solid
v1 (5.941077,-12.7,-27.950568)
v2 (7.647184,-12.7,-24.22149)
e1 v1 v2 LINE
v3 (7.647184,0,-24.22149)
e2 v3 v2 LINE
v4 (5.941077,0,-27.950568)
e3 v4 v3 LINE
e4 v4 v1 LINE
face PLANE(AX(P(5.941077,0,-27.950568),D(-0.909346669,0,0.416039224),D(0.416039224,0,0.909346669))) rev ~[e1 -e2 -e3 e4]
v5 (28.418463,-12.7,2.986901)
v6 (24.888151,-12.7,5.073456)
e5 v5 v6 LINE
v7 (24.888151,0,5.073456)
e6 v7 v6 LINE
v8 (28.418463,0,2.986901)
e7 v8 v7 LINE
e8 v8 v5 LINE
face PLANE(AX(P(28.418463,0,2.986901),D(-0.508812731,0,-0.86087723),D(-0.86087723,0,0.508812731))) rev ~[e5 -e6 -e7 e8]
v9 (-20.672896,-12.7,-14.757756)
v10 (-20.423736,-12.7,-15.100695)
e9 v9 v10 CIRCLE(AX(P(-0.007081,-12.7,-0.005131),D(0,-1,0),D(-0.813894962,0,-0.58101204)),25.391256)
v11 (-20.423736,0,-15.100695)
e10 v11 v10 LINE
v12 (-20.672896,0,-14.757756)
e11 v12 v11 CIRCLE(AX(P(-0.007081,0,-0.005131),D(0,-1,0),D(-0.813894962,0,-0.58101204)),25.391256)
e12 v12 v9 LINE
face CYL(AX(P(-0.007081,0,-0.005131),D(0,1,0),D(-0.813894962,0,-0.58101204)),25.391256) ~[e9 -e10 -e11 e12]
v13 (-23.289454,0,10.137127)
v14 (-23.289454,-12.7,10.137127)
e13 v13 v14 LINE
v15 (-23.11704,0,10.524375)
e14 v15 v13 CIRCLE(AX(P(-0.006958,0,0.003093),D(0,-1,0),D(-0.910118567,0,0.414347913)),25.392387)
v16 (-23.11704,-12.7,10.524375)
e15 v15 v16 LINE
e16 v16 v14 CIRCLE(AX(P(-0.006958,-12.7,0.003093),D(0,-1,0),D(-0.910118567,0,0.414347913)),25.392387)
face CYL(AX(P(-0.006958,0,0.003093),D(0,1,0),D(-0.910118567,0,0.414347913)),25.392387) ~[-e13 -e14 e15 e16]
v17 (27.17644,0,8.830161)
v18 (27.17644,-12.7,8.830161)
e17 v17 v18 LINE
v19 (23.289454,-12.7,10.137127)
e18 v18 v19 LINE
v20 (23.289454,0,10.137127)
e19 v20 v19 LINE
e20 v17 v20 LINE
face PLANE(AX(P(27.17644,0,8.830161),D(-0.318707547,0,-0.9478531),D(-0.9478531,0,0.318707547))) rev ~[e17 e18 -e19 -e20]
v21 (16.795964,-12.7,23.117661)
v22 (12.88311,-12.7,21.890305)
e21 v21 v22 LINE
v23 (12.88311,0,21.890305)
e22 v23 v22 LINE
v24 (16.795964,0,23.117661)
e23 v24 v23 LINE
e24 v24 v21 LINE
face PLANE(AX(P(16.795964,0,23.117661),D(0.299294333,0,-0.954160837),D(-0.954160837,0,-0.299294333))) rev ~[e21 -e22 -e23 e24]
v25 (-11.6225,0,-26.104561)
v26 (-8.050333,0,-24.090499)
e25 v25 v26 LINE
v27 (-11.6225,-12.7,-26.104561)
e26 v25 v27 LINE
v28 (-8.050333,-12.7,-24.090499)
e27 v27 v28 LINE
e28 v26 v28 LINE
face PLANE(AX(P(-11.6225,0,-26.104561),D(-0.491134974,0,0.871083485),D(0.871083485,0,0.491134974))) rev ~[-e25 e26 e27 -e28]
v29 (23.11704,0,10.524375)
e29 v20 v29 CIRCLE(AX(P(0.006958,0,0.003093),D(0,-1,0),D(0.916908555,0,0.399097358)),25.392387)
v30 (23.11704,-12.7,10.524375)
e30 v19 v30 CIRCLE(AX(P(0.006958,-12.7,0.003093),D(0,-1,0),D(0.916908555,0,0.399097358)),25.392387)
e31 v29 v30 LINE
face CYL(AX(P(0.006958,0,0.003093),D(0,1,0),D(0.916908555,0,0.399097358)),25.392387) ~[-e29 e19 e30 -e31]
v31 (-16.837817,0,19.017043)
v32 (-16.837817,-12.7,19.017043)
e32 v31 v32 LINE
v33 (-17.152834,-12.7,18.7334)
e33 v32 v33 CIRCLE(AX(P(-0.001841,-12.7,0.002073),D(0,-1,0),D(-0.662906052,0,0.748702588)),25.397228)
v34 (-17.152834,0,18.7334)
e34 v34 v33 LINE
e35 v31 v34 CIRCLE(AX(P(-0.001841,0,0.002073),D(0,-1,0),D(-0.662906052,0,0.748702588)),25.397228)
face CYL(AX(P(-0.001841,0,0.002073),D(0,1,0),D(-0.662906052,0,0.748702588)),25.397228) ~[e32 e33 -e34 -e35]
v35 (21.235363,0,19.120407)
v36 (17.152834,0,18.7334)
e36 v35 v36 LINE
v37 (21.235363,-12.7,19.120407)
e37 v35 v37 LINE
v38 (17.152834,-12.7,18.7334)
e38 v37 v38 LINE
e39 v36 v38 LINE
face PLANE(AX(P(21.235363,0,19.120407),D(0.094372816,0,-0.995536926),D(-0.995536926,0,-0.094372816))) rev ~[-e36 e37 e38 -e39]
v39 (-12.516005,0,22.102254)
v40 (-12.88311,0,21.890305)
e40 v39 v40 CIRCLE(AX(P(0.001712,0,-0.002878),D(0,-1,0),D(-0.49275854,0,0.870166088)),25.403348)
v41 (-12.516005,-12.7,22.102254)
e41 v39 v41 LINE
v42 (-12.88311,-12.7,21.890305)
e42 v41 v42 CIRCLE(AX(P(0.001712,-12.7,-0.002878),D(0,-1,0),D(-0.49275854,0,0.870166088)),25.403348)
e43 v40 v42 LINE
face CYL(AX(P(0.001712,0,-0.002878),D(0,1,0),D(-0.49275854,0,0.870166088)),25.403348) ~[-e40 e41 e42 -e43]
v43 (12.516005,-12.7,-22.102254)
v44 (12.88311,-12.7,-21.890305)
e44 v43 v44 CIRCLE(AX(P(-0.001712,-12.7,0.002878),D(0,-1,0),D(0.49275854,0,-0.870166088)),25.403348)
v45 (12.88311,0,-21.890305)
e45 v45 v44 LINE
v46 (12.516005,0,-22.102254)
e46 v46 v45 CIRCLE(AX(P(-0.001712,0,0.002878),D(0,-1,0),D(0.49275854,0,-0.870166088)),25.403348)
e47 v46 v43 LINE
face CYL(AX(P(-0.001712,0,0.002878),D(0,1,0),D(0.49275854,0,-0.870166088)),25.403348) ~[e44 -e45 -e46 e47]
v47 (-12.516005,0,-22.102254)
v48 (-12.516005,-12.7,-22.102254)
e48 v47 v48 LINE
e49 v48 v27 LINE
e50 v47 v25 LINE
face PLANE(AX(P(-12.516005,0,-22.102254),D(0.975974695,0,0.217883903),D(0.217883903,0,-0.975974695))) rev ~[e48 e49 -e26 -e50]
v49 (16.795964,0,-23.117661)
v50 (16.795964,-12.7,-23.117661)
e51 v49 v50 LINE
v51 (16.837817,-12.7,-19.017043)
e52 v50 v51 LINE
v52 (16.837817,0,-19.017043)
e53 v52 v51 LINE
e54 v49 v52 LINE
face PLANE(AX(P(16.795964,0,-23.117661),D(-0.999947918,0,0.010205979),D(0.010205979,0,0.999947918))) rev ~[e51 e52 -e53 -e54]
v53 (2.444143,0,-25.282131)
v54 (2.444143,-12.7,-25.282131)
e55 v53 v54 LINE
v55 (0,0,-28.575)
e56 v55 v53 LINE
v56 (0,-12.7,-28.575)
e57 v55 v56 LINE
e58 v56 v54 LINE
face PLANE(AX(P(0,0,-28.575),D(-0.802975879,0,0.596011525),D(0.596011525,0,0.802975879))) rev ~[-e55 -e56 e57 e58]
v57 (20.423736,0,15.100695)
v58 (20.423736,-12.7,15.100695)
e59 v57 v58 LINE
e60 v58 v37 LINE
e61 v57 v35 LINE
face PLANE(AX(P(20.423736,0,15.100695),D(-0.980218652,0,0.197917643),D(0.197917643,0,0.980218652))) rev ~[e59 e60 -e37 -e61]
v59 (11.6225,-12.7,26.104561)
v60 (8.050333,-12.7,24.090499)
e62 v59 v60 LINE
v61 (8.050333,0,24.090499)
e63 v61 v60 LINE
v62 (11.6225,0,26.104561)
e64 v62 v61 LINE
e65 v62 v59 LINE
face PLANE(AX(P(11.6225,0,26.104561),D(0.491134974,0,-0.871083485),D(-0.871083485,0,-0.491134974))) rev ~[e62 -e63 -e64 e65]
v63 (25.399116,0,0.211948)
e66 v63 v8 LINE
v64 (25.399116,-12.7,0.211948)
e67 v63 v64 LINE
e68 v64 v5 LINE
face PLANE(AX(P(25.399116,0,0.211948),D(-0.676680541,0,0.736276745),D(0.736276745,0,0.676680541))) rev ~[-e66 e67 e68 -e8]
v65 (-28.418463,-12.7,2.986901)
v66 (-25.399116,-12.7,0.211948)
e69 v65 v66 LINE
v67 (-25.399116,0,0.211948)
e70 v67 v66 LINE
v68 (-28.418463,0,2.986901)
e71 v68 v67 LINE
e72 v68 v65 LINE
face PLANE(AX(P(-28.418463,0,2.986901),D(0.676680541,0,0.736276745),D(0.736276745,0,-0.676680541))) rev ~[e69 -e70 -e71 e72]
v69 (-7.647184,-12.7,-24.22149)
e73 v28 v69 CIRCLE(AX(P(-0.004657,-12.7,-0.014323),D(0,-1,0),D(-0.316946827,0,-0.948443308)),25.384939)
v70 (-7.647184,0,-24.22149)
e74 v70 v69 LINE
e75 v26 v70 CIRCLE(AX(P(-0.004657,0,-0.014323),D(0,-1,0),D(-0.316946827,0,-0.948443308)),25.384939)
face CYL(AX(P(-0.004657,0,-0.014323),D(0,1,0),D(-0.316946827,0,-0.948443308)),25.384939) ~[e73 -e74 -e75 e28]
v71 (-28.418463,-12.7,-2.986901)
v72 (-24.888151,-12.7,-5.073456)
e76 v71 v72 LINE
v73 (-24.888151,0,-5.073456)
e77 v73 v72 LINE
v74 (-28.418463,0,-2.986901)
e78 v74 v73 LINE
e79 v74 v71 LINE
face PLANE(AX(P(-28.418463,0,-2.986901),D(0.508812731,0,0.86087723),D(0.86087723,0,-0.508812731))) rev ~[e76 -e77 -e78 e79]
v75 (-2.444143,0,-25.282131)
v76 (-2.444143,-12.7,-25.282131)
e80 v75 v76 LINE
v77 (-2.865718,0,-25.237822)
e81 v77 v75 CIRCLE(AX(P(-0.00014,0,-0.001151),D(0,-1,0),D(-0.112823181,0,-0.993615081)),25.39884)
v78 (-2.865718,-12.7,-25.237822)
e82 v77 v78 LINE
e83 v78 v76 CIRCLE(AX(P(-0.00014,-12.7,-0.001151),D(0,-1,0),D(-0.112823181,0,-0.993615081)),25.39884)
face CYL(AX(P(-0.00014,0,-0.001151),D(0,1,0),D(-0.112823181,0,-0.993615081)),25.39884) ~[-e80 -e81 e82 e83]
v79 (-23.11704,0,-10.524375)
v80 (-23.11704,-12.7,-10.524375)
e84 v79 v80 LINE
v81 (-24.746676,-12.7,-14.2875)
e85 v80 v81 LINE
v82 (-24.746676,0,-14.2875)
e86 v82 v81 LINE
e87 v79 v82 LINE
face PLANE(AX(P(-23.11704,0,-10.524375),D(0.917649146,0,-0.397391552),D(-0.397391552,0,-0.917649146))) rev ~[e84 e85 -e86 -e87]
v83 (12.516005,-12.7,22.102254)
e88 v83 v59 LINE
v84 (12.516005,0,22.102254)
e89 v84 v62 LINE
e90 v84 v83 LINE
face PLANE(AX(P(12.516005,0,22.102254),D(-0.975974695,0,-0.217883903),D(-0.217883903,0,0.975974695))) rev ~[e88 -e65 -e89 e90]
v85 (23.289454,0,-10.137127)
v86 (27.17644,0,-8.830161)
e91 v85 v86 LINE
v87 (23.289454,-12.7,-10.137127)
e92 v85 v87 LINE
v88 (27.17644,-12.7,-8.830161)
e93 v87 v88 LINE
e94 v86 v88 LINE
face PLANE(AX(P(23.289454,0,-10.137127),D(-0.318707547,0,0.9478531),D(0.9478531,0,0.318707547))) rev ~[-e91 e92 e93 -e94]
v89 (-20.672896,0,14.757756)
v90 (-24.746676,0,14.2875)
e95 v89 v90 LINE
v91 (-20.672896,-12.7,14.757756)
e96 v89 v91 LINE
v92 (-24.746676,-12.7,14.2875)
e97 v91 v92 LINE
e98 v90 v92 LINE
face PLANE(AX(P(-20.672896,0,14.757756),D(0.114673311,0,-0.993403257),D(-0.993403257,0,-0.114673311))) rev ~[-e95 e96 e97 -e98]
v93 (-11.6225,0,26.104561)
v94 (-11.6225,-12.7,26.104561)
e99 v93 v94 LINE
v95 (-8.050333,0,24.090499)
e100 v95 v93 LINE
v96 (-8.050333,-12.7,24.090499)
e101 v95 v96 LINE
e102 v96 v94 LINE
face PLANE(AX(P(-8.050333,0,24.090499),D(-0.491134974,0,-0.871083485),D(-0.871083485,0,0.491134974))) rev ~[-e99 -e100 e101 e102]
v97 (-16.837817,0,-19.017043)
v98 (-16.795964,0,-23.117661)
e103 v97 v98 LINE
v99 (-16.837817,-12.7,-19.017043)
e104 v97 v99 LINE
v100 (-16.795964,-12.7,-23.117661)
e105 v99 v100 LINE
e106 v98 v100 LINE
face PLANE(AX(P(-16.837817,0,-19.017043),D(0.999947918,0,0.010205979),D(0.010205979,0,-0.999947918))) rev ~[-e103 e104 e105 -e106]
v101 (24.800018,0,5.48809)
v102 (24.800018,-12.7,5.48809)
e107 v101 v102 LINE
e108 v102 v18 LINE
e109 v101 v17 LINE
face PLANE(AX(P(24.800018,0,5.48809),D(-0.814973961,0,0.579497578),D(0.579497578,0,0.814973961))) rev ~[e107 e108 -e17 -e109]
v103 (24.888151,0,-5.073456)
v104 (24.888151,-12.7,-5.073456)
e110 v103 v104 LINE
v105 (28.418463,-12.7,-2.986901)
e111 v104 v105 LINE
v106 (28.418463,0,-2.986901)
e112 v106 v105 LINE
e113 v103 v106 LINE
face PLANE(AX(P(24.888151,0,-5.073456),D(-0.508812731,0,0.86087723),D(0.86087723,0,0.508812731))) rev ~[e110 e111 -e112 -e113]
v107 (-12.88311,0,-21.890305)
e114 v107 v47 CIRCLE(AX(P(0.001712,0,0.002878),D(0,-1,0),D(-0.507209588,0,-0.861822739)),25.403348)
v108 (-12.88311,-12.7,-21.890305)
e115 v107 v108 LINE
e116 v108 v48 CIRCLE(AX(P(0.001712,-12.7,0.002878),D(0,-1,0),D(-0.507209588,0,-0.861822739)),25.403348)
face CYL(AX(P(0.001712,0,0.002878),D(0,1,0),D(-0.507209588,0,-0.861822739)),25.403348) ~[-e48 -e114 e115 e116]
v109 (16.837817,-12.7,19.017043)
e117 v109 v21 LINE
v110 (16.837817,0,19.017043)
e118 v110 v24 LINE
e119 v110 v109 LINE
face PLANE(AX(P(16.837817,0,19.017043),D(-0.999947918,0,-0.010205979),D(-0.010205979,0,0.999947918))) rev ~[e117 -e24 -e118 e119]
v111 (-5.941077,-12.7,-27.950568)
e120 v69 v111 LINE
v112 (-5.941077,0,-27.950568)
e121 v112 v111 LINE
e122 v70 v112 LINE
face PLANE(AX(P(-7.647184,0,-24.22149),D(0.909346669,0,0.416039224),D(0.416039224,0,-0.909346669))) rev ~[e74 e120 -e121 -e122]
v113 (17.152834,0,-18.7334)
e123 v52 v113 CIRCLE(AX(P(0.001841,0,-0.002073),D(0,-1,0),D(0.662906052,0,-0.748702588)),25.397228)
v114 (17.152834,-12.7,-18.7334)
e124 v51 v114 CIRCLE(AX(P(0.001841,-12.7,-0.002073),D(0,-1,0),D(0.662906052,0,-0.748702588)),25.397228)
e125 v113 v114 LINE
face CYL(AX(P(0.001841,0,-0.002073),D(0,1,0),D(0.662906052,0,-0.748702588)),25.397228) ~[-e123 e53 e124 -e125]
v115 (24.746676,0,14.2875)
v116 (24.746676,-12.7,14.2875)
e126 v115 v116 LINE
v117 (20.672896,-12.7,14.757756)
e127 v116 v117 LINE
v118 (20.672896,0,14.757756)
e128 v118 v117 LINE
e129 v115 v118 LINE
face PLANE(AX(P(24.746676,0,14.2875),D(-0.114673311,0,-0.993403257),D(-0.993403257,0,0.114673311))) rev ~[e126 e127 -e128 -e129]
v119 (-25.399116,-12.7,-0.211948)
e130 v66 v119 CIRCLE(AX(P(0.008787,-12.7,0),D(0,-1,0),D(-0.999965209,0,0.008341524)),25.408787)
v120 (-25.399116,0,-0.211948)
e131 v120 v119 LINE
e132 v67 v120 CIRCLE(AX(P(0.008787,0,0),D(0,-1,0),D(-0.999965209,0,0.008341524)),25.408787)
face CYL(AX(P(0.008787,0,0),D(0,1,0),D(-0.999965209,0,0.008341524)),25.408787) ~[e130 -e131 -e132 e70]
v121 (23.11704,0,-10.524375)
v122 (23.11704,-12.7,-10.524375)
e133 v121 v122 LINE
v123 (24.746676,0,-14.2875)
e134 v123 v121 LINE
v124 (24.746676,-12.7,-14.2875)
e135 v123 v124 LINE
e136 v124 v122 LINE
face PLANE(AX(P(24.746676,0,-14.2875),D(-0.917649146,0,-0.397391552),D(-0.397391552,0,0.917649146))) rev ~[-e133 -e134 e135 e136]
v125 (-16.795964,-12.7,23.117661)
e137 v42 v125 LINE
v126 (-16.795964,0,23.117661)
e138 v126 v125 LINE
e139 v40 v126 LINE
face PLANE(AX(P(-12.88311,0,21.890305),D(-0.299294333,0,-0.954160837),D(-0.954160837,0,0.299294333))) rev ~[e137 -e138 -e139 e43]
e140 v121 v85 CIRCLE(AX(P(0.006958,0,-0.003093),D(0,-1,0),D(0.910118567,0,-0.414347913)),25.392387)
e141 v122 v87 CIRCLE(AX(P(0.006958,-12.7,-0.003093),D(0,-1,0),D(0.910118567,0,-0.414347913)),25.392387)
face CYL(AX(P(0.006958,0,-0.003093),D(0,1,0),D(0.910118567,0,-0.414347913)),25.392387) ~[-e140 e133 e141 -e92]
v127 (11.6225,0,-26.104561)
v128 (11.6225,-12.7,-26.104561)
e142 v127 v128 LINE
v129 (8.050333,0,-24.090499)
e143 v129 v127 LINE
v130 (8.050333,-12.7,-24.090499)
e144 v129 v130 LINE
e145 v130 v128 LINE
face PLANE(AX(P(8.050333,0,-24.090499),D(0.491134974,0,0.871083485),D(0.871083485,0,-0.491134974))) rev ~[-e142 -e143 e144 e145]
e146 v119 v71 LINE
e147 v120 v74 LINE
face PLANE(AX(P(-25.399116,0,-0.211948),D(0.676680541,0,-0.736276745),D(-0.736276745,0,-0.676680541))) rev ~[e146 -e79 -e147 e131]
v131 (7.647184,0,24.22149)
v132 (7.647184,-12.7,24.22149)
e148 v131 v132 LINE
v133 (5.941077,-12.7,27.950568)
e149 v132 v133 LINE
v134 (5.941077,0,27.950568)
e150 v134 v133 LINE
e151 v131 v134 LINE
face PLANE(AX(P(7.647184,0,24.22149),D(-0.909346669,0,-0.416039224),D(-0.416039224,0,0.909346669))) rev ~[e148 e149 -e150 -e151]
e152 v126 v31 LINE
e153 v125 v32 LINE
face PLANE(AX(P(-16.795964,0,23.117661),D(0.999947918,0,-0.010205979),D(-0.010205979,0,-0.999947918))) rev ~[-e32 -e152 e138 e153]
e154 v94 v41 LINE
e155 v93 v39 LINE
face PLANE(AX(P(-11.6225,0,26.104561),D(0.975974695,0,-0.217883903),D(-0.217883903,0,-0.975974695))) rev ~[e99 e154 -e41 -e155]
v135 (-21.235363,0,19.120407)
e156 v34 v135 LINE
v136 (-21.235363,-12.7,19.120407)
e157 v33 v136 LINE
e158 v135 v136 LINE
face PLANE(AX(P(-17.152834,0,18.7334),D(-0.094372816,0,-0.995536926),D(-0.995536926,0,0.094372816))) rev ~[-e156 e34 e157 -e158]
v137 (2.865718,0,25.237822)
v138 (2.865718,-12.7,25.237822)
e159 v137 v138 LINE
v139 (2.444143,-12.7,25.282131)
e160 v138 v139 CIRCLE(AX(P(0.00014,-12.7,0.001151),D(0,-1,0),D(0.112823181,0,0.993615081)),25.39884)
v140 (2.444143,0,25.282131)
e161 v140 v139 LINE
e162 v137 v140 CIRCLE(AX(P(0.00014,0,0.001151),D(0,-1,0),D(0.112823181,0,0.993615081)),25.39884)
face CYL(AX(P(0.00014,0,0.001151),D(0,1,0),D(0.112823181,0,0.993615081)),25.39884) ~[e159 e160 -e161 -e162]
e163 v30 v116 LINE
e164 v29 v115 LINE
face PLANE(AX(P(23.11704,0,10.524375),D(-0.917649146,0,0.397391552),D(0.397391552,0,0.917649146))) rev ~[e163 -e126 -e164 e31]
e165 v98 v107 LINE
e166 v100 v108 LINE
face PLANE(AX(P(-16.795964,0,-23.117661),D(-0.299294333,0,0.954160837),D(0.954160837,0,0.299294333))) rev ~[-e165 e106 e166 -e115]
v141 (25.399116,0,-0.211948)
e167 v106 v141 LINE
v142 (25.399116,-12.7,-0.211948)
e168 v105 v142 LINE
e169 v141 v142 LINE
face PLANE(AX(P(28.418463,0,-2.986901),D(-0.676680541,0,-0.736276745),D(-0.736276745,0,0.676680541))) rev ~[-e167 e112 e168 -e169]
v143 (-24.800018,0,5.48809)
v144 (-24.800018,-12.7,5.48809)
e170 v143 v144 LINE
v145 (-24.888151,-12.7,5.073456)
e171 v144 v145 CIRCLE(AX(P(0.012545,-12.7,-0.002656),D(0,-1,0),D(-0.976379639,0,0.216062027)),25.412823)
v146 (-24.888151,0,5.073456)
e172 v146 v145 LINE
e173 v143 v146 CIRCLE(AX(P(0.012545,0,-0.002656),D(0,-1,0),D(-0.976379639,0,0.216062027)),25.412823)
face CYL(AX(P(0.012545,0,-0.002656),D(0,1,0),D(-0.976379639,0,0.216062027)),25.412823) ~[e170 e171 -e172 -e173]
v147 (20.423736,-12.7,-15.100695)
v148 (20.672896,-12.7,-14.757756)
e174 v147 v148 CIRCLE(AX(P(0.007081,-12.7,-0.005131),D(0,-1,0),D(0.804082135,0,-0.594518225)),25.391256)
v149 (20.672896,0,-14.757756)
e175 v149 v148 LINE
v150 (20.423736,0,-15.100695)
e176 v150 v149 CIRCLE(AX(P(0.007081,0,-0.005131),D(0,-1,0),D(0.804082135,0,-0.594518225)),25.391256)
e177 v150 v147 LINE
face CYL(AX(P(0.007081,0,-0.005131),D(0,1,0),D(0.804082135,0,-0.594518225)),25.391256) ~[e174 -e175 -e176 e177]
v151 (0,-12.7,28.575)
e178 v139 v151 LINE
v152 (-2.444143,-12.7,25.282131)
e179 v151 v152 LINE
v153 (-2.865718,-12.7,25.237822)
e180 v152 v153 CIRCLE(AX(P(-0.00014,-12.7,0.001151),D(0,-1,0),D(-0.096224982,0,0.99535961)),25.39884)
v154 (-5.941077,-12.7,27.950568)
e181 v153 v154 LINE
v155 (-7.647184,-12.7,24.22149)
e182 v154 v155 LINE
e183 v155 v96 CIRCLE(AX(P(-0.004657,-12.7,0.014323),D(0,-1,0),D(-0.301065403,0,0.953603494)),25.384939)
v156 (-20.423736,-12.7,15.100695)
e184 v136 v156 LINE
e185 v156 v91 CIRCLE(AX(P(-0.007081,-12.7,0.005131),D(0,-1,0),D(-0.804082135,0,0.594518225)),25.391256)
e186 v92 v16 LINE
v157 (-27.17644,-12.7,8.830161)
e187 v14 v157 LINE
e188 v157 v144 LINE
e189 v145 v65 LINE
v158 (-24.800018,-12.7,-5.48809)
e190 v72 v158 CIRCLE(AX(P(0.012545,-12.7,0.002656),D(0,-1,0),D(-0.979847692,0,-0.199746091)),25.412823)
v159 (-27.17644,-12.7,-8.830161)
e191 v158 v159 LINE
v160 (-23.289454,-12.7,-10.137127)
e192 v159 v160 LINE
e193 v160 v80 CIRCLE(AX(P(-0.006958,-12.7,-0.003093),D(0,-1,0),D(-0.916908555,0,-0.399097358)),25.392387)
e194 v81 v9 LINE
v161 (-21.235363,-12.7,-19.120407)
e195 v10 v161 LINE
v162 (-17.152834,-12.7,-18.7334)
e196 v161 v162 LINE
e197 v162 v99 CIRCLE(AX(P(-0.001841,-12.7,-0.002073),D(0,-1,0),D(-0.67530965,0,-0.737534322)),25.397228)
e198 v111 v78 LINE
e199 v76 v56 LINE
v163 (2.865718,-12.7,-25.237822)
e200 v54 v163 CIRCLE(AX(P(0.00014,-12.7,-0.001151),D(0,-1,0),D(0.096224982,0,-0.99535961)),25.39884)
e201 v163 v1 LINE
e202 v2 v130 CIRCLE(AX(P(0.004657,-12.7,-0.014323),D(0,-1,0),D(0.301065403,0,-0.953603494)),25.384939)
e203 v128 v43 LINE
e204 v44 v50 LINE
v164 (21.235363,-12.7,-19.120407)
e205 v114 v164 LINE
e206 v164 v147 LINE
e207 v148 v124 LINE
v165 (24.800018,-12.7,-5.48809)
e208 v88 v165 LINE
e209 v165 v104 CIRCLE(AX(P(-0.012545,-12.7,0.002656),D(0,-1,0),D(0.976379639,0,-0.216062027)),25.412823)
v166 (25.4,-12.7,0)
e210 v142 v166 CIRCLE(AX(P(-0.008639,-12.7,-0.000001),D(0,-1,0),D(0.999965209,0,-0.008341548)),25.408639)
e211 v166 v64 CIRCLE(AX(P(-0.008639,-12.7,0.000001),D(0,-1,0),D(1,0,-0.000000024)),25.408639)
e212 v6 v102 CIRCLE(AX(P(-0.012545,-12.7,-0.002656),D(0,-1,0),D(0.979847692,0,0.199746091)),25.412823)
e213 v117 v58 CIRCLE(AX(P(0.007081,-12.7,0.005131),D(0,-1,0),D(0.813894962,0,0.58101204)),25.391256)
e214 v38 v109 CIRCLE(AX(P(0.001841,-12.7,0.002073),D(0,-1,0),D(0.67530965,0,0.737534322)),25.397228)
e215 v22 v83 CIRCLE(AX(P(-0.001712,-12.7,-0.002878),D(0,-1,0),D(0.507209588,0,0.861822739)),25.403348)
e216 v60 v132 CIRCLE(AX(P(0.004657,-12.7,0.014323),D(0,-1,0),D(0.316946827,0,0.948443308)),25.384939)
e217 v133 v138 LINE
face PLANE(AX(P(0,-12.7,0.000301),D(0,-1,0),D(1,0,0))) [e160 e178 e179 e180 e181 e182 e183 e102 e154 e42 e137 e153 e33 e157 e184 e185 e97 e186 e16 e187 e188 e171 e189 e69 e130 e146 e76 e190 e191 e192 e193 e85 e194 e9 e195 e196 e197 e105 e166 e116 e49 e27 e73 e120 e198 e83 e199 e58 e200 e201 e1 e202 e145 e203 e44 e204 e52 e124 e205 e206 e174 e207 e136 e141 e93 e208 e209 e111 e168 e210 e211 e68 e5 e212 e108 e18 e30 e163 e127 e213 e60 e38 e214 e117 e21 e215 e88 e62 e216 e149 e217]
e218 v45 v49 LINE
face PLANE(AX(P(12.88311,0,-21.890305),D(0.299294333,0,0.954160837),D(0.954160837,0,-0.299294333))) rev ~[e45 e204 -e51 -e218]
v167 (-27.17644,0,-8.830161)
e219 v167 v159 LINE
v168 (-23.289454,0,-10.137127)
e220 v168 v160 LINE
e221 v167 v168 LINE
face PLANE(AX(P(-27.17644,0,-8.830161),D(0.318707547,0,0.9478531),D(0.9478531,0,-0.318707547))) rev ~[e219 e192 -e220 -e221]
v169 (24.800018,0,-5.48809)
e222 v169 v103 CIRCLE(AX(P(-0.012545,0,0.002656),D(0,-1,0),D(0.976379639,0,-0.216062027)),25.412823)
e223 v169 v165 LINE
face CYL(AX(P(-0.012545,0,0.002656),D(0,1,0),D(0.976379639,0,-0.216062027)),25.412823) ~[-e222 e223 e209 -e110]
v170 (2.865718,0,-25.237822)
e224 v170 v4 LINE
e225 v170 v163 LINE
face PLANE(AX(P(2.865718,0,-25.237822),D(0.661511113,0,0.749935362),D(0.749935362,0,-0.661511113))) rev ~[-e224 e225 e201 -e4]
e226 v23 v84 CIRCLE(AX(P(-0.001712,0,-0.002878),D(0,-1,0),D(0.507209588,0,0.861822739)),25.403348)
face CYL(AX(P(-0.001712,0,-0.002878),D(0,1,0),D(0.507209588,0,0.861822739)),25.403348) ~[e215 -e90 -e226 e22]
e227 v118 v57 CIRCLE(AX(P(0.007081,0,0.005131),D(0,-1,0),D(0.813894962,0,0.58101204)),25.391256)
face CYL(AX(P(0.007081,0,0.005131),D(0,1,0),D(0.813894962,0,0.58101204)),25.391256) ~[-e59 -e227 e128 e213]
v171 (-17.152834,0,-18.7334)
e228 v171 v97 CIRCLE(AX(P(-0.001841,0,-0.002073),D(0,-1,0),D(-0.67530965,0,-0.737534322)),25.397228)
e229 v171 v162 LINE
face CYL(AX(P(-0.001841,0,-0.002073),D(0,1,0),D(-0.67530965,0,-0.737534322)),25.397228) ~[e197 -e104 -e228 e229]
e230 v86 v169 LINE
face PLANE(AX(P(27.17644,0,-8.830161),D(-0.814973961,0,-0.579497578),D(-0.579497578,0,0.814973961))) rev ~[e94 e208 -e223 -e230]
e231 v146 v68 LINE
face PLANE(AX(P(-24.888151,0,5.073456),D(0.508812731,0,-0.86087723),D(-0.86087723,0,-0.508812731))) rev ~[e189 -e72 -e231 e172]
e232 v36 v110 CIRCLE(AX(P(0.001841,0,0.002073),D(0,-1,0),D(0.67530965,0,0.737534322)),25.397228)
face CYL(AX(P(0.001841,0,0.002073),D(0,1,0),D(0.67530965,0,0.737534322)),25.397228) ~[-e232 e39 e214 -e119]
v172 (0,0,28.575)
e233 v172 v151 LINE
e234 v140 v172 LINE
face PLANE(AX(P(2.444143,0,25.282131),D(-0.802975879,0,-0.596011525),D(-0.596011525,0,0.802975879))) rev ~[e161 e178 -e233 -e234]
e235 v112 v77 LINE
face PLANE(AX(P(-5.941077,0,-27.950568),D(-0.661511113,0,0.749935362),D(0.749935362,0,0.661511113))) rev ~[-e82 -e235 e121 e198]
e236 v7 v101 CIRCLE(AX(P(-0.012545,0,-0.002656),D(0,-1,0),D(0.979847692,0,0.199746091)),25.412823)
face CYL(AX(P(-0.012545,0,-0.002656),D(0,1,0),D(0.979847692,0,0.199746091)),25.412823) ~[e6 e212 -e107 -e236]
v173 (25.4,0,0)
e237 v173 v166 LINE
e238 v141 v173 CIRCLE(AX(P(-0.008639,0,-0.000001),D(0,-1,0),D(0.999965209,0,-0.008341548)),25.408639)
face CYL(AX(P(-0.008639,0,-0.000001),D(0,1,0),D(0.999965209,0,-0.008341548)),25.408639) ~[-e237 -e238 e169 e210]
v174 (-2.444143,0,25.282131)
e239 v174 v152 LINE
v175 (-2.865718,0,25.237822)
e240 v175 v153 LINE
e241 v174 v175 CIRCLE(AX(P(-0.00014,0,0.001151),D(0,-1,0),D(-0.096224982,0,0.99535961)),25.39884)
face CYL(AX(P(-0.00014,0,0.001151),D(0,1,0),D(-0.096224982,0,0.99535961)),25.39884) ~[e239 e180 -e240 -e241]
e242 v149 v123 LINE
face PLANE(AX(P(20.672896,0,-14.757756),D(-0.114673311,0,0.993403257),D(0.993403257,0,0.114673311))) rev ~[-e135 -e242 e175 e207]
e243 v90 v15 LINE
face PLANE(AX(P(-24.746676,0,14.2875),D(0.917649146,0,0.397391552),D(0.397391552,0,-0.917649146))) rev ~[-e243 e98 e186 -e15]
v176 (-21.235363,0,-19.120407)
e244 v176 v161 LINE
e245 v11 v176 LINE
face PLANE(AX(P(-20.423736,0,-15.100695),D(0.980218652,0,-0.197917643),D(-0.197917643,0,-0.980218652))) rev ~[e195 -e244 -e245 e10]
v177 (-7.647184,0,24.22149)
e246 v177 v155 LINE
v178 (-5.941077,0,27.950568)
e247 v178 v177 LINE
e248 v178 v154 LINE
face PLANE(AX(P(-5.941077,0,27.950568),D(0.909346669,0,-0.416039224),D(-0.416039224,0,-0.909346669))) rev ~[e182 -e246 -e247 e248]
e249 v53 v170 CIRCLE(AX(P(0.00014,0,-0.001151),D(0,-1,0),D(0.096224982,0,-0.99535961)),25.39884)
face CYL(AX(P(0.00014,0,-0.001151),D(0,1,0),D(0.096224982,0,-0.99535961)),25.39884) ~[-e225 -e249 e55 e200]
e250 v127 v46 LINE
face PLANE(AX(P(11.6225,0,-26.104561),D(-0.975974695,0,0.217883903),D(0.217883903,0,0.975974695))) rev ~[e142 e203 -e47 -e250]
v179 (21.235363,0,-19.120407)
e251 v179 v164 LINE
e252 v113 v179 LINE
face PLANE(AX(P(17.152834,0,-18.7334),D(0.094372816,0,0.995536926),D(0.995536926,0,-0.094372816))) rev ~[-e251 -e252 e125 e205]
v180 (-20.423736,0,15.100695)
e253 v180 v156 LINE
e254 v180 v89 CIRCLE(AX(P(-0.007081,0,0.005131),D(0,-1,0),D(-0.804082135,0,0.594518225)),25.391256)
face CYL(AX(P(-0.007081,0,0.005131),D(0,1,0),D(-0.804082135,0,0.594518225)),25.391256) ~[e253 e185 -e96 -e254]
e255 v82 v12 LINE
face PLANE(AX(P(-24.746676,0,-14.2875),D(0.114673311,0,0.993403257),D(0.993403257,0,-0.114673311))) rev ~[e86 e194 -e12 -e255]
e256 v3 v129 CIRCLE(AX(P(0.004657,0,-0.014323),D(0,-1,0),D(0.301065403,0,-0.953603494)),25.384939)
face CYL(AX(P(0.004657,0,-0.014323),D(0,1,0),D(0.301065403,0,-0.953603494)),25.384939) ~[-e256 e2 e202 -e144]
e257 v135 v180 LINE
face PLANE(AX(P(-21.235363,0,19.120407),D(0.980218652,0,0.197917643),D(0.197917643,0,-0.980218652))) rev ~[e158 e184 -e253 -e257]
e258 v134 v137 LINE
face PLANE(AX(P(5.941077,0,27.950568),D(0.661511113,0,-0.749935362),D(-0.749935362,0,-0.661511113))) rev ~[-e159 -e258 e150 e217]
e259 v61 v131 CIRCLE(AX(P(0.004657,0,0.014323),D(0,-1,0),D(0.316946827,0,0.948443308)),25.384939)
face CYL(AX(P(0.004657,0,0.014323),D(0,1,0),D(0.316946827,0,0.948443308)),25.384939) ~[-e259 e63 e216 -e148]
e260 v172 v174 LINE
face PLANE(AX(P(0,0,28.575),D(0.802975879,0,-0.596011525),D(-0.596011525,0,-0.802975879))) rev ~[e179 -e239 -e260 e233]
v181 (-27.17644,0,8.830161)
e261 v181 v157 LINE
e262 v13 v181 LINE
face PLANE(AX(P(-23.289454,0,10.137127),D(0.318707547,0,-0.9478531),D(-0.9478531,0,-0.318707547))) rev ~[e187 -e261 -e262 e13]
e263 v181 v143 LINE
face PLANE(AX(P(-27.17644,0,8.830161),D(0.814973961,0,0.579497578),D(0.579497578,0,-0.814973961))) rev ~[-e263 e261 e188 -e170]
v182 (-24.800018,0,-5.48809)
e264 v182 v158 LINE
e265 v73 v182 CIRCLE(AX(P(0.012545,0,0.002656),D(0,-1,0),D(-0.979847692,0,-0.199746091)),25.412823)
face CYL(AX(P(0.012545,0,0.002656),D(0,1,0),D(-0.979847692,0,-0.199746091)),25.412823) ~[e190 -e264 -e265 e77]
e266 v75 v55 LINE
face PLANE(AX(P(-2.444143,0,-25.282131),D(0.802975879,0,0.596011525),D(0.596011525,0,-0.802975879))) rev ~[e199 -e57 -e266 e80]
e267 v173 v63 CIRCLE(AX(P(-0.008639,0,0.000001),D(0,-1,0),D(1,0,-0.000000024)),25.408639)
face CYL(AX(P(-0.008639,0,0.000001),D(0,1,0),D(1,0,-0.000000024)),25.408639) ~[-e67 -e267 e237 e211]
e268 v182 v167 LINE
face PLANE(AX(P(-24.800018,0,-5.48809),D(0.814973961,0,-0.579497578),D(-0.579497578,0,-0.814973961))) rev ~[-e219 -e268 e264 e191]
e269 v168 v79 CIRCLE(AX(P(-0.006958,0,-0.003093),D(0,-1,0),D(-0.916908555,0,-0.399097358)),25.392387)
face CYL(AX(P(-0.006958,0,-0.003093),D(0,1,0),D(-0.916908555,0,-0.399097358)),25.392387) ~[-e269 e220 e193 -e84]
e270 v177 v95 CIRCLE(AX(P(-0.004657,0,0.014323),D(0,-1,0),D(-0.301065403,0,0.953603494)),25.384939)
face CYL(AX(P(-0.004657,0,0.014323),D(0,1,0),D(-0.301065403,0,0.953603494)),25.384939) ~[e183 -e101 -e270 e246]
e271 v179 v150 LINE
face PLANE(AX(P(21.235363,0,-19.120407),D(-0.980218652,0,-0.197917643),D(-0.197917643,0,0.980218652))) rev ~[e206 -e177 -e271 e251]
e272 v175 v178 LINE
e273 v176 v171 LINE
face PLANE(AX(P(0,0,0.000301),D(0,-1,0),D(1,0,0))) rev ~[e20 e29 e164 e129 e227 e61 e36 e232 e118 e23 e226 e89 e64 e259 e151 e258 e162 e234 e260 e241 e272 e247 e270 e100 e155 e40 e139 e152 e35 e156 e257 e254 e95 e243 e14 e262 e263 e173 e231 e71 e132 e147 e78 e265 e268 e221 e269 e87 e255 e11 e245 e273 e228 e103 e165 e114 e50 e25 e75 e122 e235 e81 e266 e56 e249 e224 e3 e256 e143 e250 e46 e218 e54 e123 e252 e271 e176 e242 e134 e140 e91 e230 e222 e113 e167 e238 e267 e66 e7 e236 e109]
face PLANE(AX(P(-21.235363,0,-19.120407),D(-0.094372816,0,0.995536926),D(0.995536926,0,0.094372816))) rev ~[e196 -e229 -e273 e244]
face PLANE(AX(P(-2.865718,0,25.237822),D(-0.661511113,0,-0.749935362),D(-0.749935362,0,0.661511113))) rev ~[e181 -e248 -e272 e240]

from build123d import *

# Parameters (mm, degrees)
F1_DEPTH = 12.7


with BuildPart() as f1:
    # F0 (on Front) → F1 (new body)
    with BuildSketch(Plane.XZ):
        with BuildLine():
            ThreePointArc((25.399116, -0.211948), (25.399779, -0.105975), (25.4, 0))
            ThreePointArc((25.4, 0), (25.399779, 0.105975), (25.399116, 0.211948))
            ThreePointArc((25.399116, 0.211948), (25.260856, 2.655023), (24.888151, 5.073456))
            ThreePointArc((24.888151, 5.073456), (24.844949, 5.280957), (24.800018, 5.48809))
            ThreePointArc((24.800018, 5.48809), (24.156836, 7.849032), (23.289454, 10.137127))
            ThreePointArc((23.289454, 10.137127), (23.204055, 10.331111), (23.11704, 10.524375))
            ThreePointArc((23.11704, 10.524375), (21.997045, 12.7), (20.672896, 14.757756))
            ThreePointArc((20.672896, 14.757756), (20.549032, 14.929745), (20.423736, 15.100695))
            ThreePointArc((20.423736, 15.100695), (18.875879, 16.995917), (17.152834, 18.7334))
            ThreePointArc((17.152834, 18.7334), (16.995917, 18.875879), (16.837817, 19.017043))
            ThreePointArc((16.837817, 19.017043), (14.929745, 20.549032), (12.88311, 21.890305))
            ThreePointArc((12.88311, 21.890305), (12.7, 21.997045), (12.516005, 22.102254))
            ThreePointArc((12.516005, 22.102254), (10.331111, 23.204055), (8.050333, 24.090499))
            ThreePointArc((8.050333, 24.090499), (7.849032, 24.156836), (7.647184, 24.22149))
            ThreePointArc((7.647184, 24.22149), (5.280957, 24.844949), (2.865718, 25.237822))
            ThreePointArc((2.865718, 25.237822), (2.655023, 25.260856), (2.444143, 25.282131))
            ThreePointArc((2.444143, 25.282131), (1.223492, 25.370516), (0, 25.4))
            ThreePointArc((0, 25.4), (-1.223492, 25.370516), (-2.444143, 25.282131))
            ThreePointArc((-2.444143, 25.282131), (-2.655023, 25.260856), (-2.865718, 25.237822))
            ThreePointArc((-2.865718, 25.237822), (-5.280957, 24.844949), (-7.647184, 24.22149))
            ThreePointArc((-7.647184, 24.22149), (-7.849032, 24.156836), (-8.050333, 24.090499))
            ThreePointArc((-8.050333, 24.090499), (-10.331111, 23.204055), (-12.516005, 22.102254))
            ThreePointArc((-12.516005, 22.102254), (-12.7, 21.997045), (-12.88311, 21.890305))
            ThreePointArc((-12.88311, 21.890305), (-14.929745, 20.549032), (-16.837817, 19.017043))
            ThreePointArc((-16.837817, 19.017043), (-16.995917, 18.875879), (-17.152834, 18.7334))
            ThreePointArc((-17.152834, 18.7334), (-18.875879, 16.995917), (-20.423736, 15.100695))
            ThreePointArc((-20.423736, 15.100695), (-20.549032, 14.929745), (-20.672896, 14.757756))
            ThreePointArc((-20.672896, 14.757756), (-21.997045, 12.7), (-23.11704, 10.524375))
            ThreePointArc((-23.11704, 10.524375), (-23.204055, 10.331111), (-23.289454, 10.137127))
            ThreePointArc((-23.289454, 10.137127), (-24.156836, 7.849032), (-24.800018, 5.48809))
            ThreePointArc((-24.800018, 5.48809), (-24.844949, 5.280957), (-24.888151, 5.073456))
            ThreePointArc((-24.888151, 5.073456), (-25.260856, 2.655023), (-25.399116, 0.211948))
            ThreePointArc((-25.399116, 0.211948), (-25.4, 0), (-25.399116, -0.211948))
            ThreePointArc((-25.399116, -0.211948), (-25.260856, -2.655023), (-24.888151, -5.073456))
            ThreePointArc((-24.888151, -5.073456), (-24.844949, -5.280957), (-24.800018, -5.48809))
            ThreePointArc((-24.800018, -5.48809), (-24.156836, -7.849032), (-23.289454, -10.137127))
            ThreePointArc((-23.289454, -10.137127), (-23.204055, -10.331111), (-23.11704, -10.524375))
            ThreePointArc((-23.11704, -10.524375), (-21.997045, -12.7), (-20.672896, -14.757756))
            ThreePointArc((-20.672896, -14.757756), (-20.549032, -14.929745), (-20.423736, -15.100695))
            ThreePointArc((-20.423736, -15.100695), (-18.875879, -16.995917), (-17.152834, -18.7334))
            ThreePointArc((-17.152834, -18.7334), (-16.995917, -18.875879), (-16.837817, -19.017043))
            ThreePointArc((-16.837817, -19.017043), (-14.929745, -20.549032), (-12.88311, -21.890305))
            ThreePointArc((-12.88311, -21.890305), (-12.7, -21.997045), (-12.516005, -22.102254))
            ThreePointArc((-12.516005, -22.102254), (-10.331111, -23.204055), (-8.050333, -24.090499))
            ThreePointArc((-8.050333, -24.090499), (-7.849032, -24.156836), (-7.647184, -24.22149))
            ThreePointArc((-7.647184, -24.22149), (-5.280957, -24.844949), (-2.865718, -25.237822))
            ThreePointArc((-2.865718, -25.237822), (-2.655023, -25.260856), (-2.444143, -25.282131))
            ThreePointArc((-2.444143, -25.282131), (0, -25.4), (2.444143, -25.282131))
            ThreePointArc((2.444143, -25.282131), (2.655023, -25.260856), (2.865718, -25.237822))
            ThreePointArc((2.865718, -25.237822), (5.280957, -24.844949), (7.647184, -24.22149))
            ThreePointArc((7.647184, -24.22149), (7.849032, -24.156836), (8.050333, -24.090499))
            ThreePointArc((8.050333, -24.090499), (10.331111, -23.204055), (12.516005, -22.102254))
            ThreePointArc((12.516005, -22.102254), (12.7, -21.997045), (12.88311, -21.890305))
            ThreePointArc((12.88311, -21.890305), (14.929745, -20.549032), (16.837817, -19.017043))
            ThreePointArc((16.837817, -19.017043), (16.995917, -18.875879), (17.152834, -18.7334))
            ThreePointArc((17.152834, -18.7334), (18.875879, -16.995917), (20.423736, -15.100695))
            ThreePointArc((20.423736, -15.100695), (20.549032, -14.929745), (20.672896, -14.757756))
            ThreePointArc((20.672896, -14.757756), (21.997045, -12.7), (23.11704, -10.524375))
            ThreePointArc((23.11704, -10.524375), (23.204055, -10.331111), (23.289454, -10.137127))
            ThreePointArc((23.289454, -10.137127), (24.156836, -7.849032), (24.800018, -5.48809))
            ThreePointArc((24.800018, -5.48809), (24.844949, -5.280957), (24.888151, -5.073456))
            ThreePointArc((24.888151, -5.073456), (25.260856, -2.655023), (25.399116, -0.211948))
        make_face()
        with BuildLine():
            ThreePointArc((24.888151, 5.073456), (25.260856, 2.655023), (25.399116, 0.211948))
            Line((25.399116, 0.211948), (28.418463, 2.986901))
            Line((28.418463, 2.986901), (24.888151, 5.073456))
        make_face()
        with BuildLine():
            Line((28.418463, -2.986901), (25.399116, -0.211948))
            ThreePointArc((25.399116, -0.211948), (25.260856, -2.655023), (24.888151, -5.073456))
            Line((24.888151, -5.073456), (28.418463, -2.986901))
        make_face()
        with BuildLine():
            ThreePointArc((23.289454, 10.137127), (24.156836, 7.849032), (24.800018, 5.48809))
            Line((24.800018, 5.48809), (27.17644, 8.830161))
            Line((27.17644, 8.830161), (23.289454, 10.137127))
        make_face()
        with BuildLine():
            Line((27.17644, -8.830161), (24.800018, -5.48809))
            ThreePointArc((24.800018, -5.48809), (24.156836, -7.849032), (23.289454, -10.137127))
            Line((23.289454, -10.137127), (27.17644, -8.830161))
        make_face()
        with BuildLine():
            ThreePointArc((20.672896, 14.757756), (21.997045, 12.7), (23.11704, 10.524375))
            Line((23.11704, 10.524375), (24.746676, 14.2875))
            Line((24.746676, 14.2875), (20.672896, 14.757756))
        make_face()
        with BuildLine():
            Line((24.746676, -14.2875), (23.11704, -10.524375))
            ThreePointArc((23.11704, -10.524375), (21.997045, -12.7), (20.672896, -14.757756))
            Line((20.672896, -14.757756), (24.746676, -14.2875))
        make_face()
        with BuildLine():
            ThreePointArc((17.152834, 18.7334), (18.875879, 16.995917), (20.423736, 15.100695))
            Line((20.423736, 15.100695), (21.235363, 19.120407))
            Line((21.235363, 19.120407), (17.152834, 18.7334))
        make_face()
        with BuildLine():
            Line((21.235363, -19.120407), (20.423736, -15.100695))
            ThreePointArc((20.423736, -15.100695), (18.875879, -16.995917), (17.152834, -18.7334))
            Line((17.152834, -18.7334), (21.235363, -19.120407))
        make_face()
        with BuildLine():
            ThreePointArc((12.88311, 21.890305), (14.929745, 20.549032), (16.837817, 19.017043))
            Line((16.837817, 19.017043), (16.795964, 23.117661))
            Line((16.795964, 23.117661), (12.88311, 21.890305))
        make_face()
        with BuildLine():
            Line((16.795964, -23.117661), (16.837817, -19.017043))
            ThreePointArc((16.837817, -19.017043), (14.929745, -20.549032), (12.88311, -21.890305))
            Line((12.88311, -21.890305), (16.795964, -23.117661))
        make_face()
        with BuildLine():
            ThreePointArc((8.050333, 24.090499), (10.331111, 23.204055), (12.516005, 22.102254))
            Line((12.516005, 22.102254), (11.6225, 26.104561))
            Line((11.6225, 26.104561), (8.050333, 24.090499))
        make_face()
        with BuildLine():
            Line((11.6225, -26.104561), (12.516005, -22.102254))
            ThreePointArc((12.516005, -22.102254), (10.331111, -23.204055), (8.050333, -24.090499))
            Line((8.050333, -24.090499), (11.6225, -26.104561))
        make_face()
        with BuildLine():
            ThreePointArc((2.865718, 25.237822), (5.280957, 24.844949), (7.647184, 24.22149))
            Line((7.647184, 24.22149), (5.941077, 27.950568))
            Line((5.941077, 27.950568), (2.865718, 25.237822))
        make_face()
        with BuildLine():
            Line((5.941077, -27.950568), (7.647184, -24.22149))
            ThreePointArc((7.647184, -24.22149), (5.280957, -24.844949), (2.865718, -25.237822))
            Line((2.865718, -25.237822), (5.941077, -27.950568))
        make_face()
        with BuildLine():
            ThreePointArc((0, 25.4), (1.223492, 25.370516), (2.444143, 25.282131))
            Line((2.444143, 25.282131), (0, 28.575))
            Line((0, 28.575), (0, 25.4))
        make_face()
        with BuildLine():
            Line((0, -28.575), (2.444143, -25.282131))
            ThreePointArc((2.444143, -25.282131), (0, -25.4), (-2.444143, -25.282131))
            Line((-2.444143, -25.282131), (0, -28.575))
        make_face()
        with BuildLine():
            ThreePointArc((-2.444143, 25.282131), (-1.223492, 25.370516), (0, 25.4))
            Line((0, 25.4), (0, 28.575))
            Line((0, 28.575), (-2.444143, 25.282131))
        make_face()
        with BuildLine():
            Line((-5.941077, -27.950568), (-2.865718, -25.237822))
            ThreePointArc((-2.865718, -25.237822), (-5.280957, -24.844949), (-7.647184, -24.22149))
            Line((-7.647184, -24.22149), (-5.941077, -27.950568))
        make_face()
        with BuildLine():
            ThreePointArc((-7.647184, 24.22149), (-5.280957, 24.844949), (-2.865718, 25.237822))
            Line((-2.865718, 25.237822), (-5.941077, 27.950568))
            Line((-5.941077, 27.950568), (-7.647184, 24.22149))
        make_face()
        with BuildLine():
            Line((-11.6225, -26.104561), (-8.050333, -24.090499))
            ThreePointArc((-8.050333, -24.090499), (-10.331111, -23.204055), (-12.516005, -22.102254))
            Line((-12.516005, -22.102254), (-11.6225, -26.104561))
        make_face()
        with BuildLine():
            ThreePointArc((-12.516005, 22.102254), (-10.331111, 23.204055), (-8.050333, 24.090499))
            Line((-8.050333, 24.090499), (-11.6225, 26.104561))
            Line((-11.6225, 26.104561), (-12.516005, 22.102254))
        make_face()
        with BuildLine():
            Line((-16.795964, -23.117661), (-12.88311, -21.890305))
            ThreePointArc((-12.88311, -21.890305), (-14.929745, -20.549032), (-16.837817, -19.017043))
            Line((-16.837817, -19.017043), (-16.795964, -23.117661))
        make_face()
        with BuildLine():
            ThreePointArc((-16.837817, 19.017043), (-14.929745, 20.549032), (-12.88311, 21.890305))
            Line((-12.88311, 21.890305), (-16.795964, 23.117661))
            Line((-16.795964, 23.117661), (-16.837817, 19.017043))
        make_face()
        with BuildLine():
            Line((-21.235363, -19.120407), (-17.152834, -18.7334))
            ThreePointArc((-17.152834, -18.7334), (-18.875879, -16.995917), (-20.423736, -15.100695))
            Line((-20.423736, -15.100695), (-21.235363, -19.120407))
        make_face()
        with BuildLine():
            ThreePointArc((-20.423736, 15.100695), (-18.875879, 16.995917), (-17.152834, 18.7334))
            Line((-17.152834, 18.7334), (-21.235363, 19.120407))
            Line((-21.235363, 19.120407), (-20.423736, 15.100695))
        make_face()
        with BuildLine():
            Line((-24.746676, -14.2875), (-20.672896, -14.757756))
            ThreePointArc((-20.672896, -14.757756), (-21.997045, -12.7), (-23.11704, -10.524375))
            Line((-23.11704, -10.524375), (-24.746676, -14.2875))
        make_face()
        with BuildLine():
            ThreePointArc((-23.11704, 10.524375), (-21.997045, 12.7), (-20.672896, 14.757756))
            Line((-20.672896, 14.757756), (-24.746676, 14.2875))
            Line((-24.746676, 14.2875), (-23.11704, 10.524375))
        make_face()
        with BuildLine():
            Line((-27.17644, -8.830161), (-23.289454, -10.137127))
            ThreePointArc((-23.289454, -10.137127), (-24.156836, -7.849032), (-24.800018, -5.48809))
            Line((-24.800018, -5.48809), (-27.17644, -8.830161))
        make_face()
        with BuildLine():
            ThreePointArc((-24.800018, 5.48809), (-24.156836, 7.849032), (-23.289454, 10.137127))
            Line((-23.289454, 10.137127), (-27.17644, 8.830161))
            Line((-27.17644, 8.830161), (-24.800018, 5.48809))
        make_face()
        with BuildLine():
            Line((-28.418463, -2.986901), (-24.888151, -5.073456))
            ThreePointArc((-24.888151, -5.073456), (-25.260856, -2.655023), (-25.399116, -0.211948))
            Line((-25.399116, -0.211948), (-28.418463, -2.986901))
        make_face()
        with BuildLine():
            ThreePointArc((-25.399116, 0.211948), (-25.260856, 2.655023), (-24.888151, 5.073456))
            Line((-24.888151, 5.073456), (-28.418463, 2.986901))
            Line((-28.418463, 2.986901), (-25.399116, 0.211948))
        make_face()
    extrude(amount=F1_DEPTH)


solid = f1.part
